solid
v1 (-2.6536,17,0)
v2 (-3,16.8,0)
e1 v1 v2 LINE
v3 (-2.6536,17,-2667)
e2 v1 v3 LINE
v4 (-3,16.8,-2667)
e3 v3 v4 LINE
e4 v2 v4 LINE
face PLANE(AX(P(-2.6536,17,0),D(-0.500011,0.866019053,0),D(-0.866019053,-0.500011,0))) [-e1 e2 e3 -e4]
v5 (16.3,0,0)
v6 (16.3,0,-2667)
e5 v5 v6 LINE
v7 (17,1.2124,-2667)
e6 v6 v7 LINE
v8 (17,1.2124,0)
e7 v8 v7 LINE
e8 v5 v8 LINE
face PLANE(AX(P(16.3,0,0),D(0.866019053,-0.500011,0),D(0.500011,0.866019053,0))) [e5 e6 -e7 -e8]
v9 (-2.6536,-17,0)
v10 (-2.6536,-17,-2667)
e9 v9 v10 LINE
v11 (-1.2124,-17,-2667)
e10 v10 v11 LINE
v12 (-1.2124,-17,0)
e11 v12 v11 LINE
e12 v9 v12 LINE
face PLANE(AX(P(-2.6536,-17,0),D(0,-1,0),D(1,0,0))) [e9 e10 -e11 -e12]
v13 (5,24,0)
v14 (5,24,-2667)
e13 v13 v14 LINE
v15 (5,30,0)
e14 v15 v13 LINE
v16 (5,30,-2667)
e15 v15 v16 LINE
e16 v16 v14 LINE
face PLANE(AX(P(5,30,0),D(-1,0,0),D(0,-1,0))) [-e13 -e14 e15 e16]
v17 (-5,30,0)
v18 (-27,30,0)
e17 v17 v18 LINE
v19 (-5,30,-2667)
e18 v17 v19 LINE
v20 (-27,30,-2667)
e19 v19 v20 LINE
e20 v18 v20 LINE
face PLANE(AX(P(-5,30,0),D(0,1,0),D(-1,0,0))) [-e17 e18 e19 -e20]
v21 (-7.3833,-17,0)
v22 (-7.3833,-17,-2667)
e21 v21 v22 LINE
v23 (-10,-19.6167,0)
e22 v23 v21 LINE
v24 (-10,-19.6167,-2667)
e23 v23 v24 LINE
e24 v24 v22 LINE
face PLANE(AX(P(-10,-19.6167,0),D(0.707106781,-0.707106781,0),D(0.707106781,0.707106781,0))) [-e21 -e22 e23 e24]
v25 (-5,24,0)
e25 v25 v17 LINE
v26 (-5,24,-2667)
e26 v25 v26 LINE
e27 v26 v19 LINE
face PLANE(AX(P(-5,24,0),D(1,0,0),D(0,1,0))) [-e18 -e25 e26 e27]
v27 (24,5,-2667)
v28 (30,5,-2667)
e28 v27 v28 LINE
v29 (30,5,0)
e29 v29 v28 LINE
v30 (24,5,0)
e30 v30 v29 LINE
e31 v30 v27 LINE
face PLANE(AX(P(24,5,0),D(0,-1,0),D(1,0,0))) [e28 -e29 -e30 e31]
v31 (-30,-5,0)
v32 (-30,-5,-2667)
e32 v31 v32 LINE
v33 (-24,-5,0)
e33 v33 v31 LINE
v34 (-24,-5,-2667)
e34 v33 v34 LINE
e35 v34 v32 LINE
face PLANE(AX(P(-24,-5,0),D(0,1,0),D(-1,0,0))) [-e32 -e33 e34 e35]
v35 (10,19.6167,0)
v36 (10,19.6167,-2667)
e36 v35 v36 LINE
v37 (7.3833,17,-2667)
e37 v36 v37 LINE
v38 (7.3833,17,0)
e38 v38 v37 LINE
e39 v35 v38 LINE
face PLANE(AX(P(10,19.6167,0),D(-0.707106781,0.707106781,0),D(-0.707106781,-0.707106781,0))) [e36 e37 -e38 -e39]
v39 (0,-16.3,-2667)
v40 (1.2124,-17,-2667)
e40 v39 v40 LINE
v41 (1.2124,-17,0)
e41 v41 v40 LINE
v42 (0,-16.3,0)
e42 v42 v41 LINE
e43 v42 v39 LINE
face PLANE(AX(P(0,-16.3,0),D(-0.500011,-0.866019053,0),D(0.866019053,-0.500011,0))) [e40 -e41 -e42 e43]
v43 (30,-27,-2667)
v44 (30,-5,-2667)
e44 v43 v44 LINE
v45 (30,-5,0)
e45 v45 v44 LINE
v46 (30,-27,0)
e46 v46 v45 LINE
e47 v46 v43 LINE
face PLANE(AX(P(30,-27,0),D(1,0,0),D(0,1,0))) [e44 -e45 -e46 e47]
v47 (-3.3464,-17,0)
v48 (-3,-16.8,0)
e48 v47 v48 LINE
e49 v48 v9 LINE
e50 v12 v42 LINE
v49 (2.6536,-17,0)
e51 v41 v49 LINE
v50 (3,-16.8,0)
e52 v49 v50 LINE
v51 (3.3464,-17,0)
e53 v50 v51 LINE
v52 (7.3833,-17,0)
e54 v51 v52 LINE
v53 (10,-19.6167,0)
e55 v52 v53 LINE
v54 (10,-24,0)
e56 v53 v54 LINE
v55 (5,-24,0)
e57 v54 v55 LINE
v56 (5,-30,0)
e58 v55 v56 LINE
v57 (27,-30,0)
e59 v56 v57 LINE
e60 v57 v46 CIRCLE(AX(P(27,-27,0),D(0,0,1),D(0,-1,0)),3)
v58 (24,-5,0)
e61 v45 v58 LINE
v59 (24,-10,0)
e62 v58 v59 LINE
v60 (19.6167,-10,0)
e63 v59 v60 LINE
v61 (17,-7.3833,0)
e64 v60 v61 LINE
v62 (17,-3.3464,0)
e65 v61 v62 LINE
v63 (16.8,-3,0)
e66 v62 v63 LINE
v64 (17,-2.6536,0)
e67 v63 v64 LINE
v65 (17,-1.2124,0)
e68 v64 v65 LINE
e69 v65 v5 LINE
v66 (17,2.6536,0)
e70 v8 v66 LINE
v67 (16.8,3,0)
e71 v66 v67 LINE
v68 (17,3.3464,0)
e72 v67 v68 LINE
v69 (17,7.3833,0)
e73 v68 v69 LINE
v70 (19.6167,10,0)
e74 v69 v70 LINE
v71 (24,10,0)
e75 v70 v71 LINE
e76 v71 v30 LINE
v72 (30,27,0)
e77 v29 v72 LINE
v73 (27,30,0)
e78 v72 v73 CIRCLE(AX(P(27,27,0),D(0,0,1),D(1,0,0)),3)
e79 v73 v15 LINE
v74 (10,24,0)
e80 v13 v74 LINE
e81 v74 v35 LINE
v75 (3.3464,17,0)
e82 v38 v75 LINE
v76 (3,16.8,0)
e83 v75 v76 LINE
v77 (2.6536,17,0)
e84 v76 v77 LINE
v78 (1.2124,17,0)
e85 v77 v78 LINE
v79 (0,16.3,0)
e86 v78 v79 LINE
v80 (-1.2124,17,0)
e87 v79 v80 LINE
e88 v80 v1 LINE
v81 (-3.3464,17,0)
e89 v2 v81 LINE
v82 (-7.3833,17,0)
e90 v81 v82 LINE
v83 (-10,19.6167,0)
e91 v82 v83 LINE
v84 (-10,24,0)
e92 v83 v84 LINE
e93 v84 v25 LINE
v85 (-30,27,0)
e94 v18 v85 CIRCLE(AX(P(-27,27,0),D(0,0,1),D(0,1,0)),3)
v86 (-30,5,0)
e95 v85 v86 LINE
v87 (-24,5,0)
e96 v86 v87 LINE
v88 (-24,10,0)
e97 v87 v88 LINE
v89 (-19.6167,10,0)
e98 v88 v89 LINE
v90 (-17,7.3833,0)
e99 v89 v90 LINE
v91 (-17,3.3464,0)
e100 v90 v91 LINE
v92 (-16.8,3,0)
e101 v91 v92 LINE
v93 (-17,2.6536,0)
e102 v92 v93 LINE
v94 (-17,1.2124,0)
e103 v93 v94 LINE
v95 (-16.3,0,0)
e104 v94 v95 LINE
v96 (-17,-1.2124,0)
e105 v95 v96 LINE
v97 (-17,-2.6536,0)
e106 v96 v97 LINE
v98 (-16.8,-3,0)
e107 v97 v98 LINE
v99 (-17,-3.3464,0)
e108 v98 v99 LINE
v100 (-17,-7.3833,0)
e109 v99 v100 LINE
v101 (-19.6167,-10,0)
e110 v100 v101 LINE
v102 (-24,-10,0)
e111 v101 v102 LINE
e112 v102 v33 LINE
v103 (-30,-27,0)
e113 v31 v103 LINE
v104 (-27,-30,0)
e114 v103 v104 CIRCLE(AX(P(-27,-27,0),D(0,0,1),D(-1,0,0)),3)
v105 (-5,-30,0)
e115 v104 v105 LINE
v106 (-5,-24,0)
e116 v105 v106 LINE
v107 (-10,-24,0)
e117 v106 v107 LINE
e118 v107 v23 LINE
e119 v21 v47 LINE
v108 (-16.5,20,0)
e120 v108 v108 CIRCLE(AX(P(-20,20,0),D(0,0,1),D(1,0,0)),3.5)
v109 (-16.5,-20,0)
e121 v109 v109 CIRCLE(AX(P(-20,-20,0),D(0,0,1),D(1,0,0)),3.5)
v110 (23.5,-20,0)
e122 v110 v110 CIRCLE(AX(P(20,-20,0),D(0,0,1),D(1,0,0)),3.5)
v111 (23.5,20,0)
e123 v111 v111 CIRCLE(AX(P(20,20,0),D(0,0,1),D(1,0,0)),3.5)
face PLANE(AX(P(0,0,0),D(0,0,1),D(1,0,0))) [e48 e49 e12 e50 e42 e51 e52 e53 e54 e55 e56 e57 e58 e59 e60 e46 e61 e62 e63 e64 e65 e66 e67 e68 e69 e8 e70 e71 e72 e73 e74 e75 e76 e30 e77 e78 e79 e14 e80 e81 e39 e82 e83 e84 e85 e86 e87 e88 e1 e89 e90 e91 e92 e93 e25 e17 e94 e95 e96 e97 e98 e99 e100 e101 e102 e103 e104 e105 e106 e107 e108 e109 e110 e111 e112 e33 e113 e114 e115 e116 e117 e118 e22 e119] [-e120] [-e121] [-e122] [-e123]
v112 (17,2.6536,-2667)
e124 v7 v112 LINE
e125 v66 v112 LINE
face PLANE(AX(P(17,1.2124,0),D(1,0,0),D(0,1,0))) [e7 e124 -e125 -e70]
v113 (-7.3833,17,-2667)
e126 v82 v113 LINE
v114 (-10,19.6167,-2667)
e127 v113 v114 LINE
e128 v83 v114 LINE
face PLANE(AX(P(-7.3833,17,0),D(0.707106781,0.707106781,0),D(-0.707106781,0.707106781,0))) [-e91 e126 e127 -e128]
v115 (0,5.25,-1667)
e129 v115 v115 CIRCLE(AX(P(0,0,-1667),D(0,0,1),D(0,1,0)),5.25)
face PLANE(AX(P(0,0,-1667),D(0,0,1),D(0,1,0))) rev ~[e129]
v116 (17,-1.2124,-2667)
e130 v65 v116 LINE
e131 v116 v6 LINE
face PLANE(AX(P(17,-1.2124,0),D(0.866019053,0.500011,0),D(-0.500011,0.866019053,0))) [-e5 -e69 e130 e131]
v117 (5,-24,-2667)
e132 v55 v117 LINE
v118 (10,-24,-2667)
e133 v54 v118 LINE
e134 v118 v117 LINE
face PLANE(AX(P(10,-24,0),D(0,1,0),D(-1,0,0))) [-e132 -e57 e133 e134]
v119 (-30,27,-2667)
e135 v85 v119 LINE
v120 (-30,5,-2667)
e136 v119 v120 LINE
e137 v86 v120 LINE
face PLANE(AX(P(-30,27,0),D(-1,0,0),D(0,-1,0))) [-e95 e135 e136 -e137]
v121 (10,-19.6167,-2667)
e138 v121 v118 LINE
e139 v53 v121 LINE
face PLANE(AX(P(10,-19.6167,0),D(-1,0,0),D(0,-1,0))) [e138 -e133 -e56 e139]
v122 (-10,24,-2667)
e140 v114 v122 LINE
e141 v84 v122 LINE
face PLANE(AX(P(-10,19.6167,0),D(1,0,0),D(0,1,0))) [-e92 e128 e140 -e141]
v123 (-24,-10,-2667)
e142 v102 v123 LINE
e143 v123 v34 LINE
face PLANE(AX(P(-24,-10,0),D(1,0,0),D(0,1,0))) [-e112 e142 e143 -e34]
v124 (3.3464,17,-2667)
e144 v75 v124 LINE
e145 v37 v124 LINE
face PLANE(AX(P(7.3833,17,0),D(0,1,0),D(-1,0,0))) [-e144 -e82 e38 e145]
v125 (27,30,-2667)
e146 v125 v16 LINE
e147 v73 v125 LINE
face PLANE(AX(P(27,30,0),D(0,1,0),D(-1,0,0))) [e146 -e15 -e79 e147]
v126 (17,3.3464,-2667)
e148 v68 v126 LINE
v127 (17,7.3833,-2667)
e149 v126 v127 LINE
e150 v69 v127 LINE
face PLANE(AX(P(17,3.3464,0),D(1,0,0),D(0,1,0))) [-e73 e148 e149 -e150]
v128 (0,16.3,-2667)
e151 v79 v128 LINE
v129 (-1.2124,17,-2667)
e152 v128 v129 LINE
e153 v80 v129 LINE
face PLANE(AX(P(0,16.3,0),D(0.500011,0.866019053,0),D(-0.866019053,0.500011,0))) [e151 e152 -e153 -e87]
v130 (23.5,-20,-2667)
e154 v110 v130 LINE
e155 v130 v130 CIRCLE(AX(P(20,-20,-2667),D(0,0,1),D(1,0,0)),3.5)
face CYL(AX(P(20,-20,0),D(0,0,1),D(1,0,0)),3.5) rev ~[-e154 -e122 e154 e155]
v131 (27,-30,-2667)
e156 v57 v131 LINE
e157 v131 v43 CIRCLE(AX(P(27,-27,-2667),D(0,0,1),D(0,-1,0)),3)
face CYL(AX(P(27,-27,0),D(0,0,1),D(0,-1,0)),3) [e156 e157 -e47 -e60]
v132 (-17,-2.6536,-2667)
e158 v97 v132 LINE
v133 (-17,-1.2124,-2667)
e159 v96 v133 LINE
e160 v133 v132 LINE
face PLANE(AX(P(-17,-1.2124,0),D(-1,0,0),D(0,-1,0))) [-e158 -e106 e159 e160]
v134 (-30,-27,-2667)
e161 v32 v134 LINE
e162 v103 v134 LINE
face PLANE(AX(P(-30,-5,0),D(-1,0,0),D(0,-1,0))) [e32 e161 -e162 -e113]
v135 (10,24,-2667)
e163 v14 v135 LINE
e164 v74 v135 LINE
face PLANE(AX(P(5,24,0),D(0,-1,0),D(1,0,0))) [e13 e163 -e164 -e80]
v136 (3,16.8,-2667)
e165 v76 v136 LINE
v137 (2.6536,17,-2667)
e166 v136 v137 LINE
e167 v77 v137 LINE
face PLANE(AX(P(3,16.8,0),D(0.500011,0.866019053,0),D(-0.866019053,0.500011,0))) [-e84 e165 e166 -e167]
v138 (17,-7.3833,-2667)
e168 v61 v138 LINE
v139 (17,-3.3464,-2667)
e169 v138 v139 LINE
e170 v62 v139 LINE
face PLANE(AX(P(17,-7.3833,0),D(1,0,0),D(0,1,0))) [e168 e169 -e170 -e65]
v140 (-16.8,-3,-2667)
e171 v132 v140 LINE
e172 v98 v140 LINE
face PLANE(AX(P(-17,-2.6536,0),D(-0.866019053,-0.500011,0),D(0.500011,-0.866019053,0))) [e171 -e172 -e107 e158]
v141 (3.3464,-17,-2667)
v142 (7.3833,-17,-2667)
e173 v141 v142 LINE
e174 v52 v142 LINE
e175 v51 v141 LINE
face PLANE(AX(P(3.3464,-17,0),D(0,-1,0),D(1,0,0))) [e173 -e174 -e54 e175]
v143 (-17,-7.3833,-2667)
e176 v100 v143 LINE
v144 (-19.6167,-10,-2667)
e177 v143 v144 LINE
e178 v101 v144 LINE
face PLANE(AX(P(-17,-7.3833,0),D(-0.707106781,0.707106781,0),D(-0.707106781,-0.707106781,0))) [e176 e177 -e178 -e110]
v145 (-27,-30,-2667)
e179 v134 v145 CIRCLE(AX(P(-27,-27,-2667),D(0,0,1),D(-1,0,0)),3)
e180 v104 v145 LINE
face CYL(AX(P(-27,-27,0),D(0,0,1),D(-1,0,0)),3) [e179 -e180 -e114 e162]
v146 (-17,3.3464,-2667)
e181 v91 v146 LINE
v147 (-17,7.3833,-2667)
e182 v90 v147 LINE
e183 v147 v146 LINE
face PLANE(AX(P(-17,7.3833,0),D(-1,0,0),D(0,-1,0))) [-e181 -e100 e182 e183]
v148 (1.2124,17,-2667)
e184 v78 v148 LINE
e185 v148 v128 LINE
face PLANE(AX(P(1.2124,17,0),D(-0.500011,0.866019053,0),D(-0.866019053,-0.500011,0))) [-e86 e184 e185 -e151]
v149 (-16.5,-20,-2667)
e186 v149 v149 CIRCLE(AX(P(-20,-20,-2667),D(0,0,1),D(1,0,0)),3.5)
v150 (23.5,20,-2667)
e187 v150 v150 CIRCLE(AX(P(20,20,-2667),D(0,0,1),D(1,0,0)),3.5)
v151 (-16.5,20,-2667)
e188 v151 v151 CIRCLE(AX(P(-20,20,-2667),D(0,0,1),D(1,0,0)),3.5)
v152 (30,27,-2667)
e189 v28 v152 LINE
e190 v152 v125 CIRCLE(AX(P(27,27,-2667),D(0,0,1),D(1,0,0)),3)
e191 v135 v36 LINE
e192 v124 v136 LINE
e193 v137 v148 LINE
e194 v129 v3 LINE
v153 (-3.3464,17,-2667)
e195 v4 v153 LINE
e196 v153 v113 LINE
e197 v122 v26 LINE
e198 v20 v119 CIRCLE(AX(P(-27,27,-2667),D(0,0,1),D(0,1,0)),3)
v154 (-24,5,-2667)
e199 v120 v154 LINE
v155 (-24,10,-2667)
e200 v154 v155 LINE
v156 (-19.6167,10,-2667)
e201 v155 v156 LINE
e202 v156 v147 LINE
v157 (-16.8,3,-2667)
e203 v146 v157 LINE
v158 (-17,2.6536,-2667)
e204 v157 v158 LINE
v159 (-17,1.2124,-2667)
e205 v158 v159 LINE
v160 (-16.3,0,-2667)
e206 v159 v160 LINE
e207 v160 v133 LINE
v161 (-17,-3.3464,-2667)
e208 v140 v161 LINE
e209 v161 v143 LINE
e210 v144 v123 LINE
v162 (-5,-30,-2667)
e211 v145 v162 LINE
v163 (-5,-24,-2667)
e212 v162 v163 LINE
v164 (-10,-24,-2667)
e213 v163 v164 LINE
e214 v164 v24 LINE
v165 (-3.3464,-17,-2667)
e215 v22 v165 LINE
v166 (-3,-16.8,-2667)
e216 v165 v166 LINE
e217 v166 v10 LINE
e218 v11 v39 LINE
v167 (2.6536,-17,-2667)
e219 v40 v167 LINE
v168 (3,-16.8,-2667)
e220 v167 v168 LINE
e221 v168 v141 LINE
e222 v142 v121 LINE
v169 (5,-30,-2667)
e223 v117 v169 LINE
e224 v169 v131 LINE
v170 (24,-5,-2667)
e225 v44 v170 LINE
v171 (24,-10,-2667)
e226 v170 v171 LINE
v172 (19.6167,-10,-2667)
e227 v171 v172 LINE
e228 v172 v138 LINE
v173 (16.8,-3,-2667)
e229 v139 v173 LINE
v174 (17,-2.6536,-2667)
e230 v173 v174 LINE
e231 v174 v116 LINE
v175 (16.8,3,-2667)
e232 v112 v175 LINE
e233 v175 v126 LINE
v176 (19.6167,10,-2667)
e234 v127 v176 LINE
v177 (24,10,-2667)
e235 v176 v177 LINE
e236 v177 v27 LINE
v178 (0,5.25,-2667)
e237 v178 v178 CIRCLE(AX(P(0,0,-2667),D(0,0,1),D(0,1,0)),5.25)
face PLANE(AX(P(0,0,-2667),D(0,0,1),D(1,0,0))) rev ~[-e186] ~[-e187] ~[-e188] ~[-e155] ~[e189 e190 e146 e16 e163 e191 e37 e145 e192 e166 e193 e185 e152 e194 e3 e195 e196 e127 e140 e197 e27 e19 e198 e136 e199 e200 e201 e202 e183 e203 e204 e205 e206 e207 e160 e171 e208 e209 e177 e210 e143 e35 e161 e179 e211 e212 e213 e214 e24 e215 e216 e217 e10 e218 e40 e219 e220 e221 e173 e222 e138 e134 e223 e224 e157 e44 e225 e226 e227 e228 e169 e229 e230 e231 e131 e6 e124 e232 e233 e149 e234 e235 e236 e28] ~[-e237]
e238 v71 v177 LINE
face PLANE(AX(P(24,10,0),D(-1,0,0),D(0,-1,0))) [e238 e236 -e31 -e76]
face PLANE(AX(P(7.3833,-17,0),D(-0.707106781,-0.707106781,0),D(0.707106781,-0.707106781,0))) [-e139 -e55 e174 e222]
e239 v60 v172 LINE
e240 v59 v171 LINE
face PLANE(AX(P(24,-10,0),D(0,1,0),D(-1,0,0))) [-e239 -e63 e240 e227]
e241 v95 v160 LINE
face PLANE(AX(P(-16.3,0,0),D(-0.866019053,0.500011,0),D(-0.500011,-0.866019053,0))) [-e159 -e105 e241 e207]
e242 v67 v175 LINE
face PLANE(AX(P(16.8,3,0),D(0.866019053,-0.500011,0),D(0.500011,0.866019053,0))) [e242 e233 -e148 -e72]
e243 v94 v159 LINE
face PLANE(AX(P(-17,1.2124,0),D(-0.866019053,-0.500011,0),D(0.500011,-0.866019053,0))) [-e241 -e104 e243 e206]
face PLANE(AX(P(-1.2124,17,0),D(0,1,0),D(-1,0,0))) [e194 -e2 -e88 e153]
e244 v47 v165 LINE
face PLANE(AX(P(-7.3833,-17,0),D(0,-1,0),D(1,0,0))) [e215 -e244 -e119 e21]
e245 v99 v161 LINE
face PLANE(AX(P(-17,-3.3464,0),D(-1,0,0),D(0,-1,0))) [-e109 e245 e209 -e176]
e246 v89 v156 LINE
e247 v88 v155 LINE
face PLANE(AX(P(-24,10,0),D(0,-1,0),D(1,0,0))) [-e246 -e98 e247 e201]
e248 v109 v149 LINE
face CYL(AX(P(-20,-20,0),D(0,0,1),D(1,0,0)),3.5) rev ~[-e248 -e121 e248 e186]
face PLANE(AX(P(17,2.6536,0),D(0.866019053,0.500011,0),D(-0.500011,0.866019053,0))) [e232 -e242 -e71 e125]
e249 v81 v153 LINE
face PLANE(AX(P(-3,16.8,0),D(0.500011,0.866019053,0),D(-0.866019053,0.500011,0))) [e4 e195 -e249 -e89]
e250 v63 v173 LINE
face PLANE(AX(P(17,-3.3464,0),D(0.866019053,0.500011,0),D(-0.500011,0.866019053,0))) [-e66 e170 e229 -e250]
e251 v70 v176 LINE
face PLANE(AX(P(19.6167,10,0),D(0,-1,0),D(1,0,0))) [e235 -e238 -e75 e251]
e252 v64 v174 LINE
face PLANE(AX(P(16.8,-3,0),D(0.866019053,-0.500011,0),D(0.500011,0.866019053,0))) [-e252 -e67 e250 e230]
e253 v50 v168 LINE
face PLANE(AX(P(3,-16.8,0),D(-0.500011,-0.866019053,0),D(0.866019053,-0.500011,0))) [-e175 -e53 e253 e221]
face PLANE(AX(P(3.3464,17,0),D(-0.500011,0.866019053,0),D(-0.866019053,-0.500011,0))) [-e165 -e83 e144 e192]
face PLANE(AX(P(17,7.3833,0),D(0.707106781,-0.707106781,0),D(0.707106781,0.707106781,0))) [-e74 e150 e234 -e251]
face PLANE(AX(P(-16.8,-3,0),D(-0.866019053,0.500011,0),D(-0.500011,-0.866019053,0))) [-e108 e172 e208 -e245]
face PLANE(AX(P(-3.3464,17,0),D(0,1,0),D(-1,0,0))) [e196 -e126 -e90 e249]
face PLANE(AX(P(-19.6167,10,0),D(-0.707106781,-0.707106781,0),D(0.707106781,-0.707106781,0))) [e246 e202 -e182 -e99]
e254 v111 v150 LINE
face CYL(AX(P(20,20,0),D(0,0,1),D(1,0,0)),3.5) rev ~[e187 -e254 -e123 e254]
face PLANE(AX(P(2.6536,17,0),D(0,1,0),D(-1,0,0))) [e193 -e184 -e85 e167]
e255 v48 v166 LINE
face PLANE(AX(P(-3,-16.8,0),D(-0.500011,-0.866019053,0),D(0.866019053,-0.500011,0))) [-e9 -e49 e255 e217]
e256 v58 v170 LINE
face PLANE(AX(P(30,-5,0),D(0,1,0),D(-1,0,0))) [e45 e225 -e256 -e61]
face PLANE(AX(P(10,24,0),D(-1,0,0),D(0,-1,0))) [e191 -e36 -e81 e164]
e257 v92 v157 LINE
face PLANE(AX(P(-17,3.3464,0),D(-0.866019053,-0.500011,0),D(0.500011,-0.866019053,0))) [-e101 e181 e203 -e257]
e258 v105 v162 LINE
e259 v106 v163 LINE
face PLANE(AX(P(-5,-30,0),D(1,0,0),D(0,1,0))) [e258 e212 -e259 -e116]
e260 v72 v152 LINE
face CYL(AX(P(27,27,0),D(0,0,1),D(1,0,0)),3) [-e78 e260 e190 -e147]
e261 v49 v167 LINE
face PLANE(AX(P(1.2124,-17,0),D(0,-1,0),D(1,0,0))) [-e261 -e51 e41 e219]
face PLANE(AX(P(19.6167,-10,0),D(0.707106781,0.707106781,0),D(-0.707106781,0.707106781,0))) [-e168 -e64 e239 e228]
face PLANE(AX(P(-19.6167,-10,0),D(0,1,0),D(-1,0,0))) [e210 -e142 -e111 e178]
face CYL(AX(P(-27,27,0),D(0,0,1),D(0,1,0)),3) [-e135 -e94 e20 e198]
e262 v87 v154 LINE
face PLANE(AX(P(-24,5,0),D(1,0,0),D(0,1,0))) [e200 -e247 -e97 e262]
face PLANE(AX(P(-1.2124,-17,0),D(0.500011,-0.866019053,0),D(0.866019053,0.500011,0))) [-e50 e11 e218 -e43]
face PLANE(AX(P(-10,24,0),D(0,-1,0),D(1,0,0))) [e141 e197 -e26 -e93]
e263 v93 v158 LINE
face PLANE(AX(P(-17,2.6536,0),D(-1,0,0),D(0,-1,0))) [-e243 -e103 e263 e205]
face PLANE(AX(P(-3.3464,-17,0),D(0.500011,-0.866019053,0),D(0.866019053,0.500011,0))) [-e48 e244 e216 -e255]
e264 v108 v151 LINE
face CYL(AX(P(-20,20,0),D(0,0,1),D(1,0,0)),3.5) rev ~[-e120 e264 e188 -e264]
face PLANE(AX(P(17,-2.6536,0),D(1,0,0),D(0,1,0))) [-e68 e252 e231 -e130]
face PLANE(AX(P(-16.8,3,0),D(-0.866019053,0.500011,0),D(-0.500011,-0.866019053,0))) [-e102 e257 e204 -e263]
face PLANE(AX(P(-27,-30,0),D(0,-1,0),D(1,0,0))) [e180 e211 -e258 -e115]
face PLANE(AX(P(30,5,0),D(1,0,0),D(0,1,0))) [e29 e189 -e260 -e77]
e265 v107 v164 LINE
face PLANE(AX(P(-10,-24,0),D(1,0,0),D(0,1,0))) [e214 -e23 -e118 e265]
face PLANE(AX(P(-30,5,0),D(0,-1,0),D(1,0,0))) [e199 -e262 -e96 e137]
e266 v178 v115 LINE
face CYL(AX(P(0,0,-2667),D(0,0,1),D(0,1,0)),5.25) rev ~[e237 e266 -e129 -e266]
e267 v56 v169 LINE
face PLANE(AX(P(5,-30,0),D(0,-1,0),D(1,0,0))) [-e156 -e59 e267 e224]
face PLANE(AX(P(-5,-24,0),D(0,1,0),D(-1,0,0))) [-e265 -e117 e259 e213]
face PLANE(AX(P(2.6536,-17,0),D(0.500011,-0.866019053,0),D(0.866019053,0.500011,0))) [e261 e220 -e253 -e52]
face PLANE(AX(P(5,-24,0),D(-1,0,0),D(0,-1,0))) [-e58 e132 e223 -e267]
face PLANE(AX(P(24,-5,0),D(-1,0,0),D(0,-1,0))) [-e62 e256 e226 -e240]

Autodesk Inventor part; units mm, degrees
sketch "Sketch_60" plane through (0, 0, 0) normal (0, 0, 1) x (1, 0, 0)
  arc A0 (-30, -27) -> (-27, -30) centre (-27, -27) ccw
  line L0 (-27, -30) -> (-5, -30)
  line L1 (-5, -30) -> (-5, -24)
  line L2 (-5, -24) -> (-10, -24)
  line L3 (-10, -24) -> (-10, -19.6167)
  line L4 (-10, -19.6167) -> (-7.3833, -17)
  line L5 (-7.3833, -17) -> (-3.3464, -17)
  line L6 (-3.3464, -17) -> (-3, -16.8)
  line L7 (-3, -16.8) -> (-2.6536, -17)
  line L8 (-2.6536, -17) -> (-1.2124, -17)
  line L9 (-1.2124, -17) -> (0, -16.3)
  line L10 (0, -16.3) -> (1.2124, -17)
  line L11 (1.2124, -17) -> (2.6536, -17)
  line L12 (2.6536, -17) -> (3, -16.8)
  line L13 (3, -16.8) -> (3.3464, -17)
  line L14 (3.3464, -17) -> (7.3833, -17)
  line L15 (7.3833, -17) -> (10, -19.6167)
  line L16 (10, -19.6167) -> (10, -24)
  line L17 (10, -24) -> (5, -24)
  line L18 (5, -24) -> (5, -30)
  line L19 (5, -30) -> (27, -30)
  arc A1 (27, -30) -> (30, -27) centre (27, -27) ccw
  line L20 (30, -27) -> (30, -5)
  line L21 (30, -5) -> (24, -5)
  line L22 (24, -5) -> (24, -10)
  line L23 (24, -10) -> (19.6167, -10)
  line L24 (19.6167, -10) -> (17, -7.3833)
  line L25 (17, -7.3833) -> (17, -3.3464)
  line L26 (17, -3.3464) -> (16.8, -3)
  line L27 (16.8, -3) -> (17, -2.6536)
  line L28 (17, -2.6536) -> (17, -1.2124)
  line L29 (17, -1.2124) -> (16.3, 0)
  line L30 (16.3, 0) -> (17, 1.2124)
  line L31 (17, 1.2124) -> (17, 2.6536)
  line L32 (17, 2.6536) -> (16.8, 3)
  line L33 (16.8, 3) -> (17, 3.3464)
  line L34 (17, 3.3464) -> (17, 7.3833)
  line L35 (17, 7.3833) -> (19.6167, 10)
  line L36 (19.6167, 10) -> (24, 10)
  line L37 (24, 10) -> (24, 5)
  line L38 (24, 5) -> (30, 5)
  line L39 (30, 5) -> (30, 27)
  arc A2 (30, 27) -> (27, 30) centre (27, 27) ccw
  line L40 (27, 30) -> (5, 30)
  line L41 (5, 30) -> (5, 24)
  line L42 (5, 24) -> (10, 24)
  line L43 (10, 24) -> (10, 19.6167)
  line L44 (10, 19.6167) -> (7.3833, 17)
  line L45 (7.3833, 17) -> (3.3464, 17)
  line L46 (3.3464, 17) -> (3, 16.8)
  line L47 (3, 16.8) -> (2.6536, 17)
  line L48 (2.6536, 17) -> (1.2124, 17)
  line L49 (1.2124, 17) -> (0, 16.3)
  line L50 (0, 16.3) -> (-1.2124, 17)
  line L51 (-1.2124, 17) -> (-2.6536, 17)
  line L52 (-2.6536, 17) -> (-3, 16.8)
  line L53 (-3, 16.8) -> (-3.3464, 17)
  line L54 (-3.3464, 17) -> (-7.3833, 17)
  line L55 (-7.3833, 17) -> (-10, 19.6167)
  line L56 (-10, 19.6167) -> (-10, 24)
  line L57 (-10, 24) -> (-5, 24)
  line L58 (-5, 24) -> (-5, 30)
  line L59 (-5, 30) -> (-27, 30)
  arc A3 (-27, 30) -> (-30, 27) centre (-27, 27) ccw
  line L60 (-30, 27) -> (-30, 5)
  line L61 (-30, 5) -> (-24, 5)
  line L62 (-24, 5) -> (-24, 10)
  line L63 (-24, 10) -> (-19.6167, 10)
  line L64 (-19.6167, 10) -> (-17, 7.3833)
  line L65 (-17, 7.3833) -> (-17, 3.3464)
  line L66 (-17, 3.3464) -> (-16.8, 3)
  line L67 (-16.8, 3) -> (-17, 2.6536)
  line L68 (-17, 2.6536) -> (-17, 1.2124)
  line L69 (-17, 1.2124) -> (-16.3, 0)
  line L70 (-16.3, 0) -> (-17, -1.2124)
  line L71 (-17, -1.2124) -> (-17, -2.6536)
  line L72 (-17, -2.6536) -> (-16.8, -3)
  line L73 (-16.8, -3) -> (-17, -3.3464)
  line L74 (-17, -3.3464) -> (-17, -7.3833)
  line L75 (-17, -7.3833) -> (-19.6167, -10)
  line L76 (-19.6167, -10) -> (-24, -10)
  line L77 (-24, -10) -> (-24, -5)
  line L78 (-24, -5) -> (-30, -5)
  line L79 (-30, -5) -> (-30, -27)
  circle A4 centre (20, 20) radius 3.5
  circle A5 centre (20, -20) radius 3.5
  circle A6 centre (-20, 20) radius 3.5
  circle A7 centre (-20, -20) radius 3.5
extrude "Extrusion1" add sketch "Sketch_60" against normal blind 2667
sketch "Sketch2" plane through (0, 0, -2667) normal (0, 0, -1) x (-1, 0, 0)
  point P0 (0, 0)
hole "Hole1" at (0, 0, -2667) direction (0, 0, 1) diameter 10.5 depth 1000
ref_plane "C1_XY" through (0, 0, 0) normal (0, 0, 1) x (1, 0, 0)
ref_plane "C1_YZ" through (0, 0, 0) normal (1, 0, 0) x (0, 1, 0)
ref_plane "C1_ZX" through (0, 0, 0) normal (0, 1, 0) x (0, 0, 1)
ref_plane "to_frame_cap1_XY" through (0, 0, 0) normal (0, 0, 1) x (1, 0, 0)
ref_plane "to_frame_cap1_YZ" through (0, 0, 0) normal (1, 0, 0) x (0, 1, 0)
ref_plane "to_frame_cap1_ZX" through (0, 0, 0) normal (0, 1, 0) x (0, 0, 1)
ref_plane "to_frame_cap2_XY" through (0, 0, -1000) normal (0, 0, -1) x (1, 0, 0)
ref_plane "to_frame_cap2_YZ" through (0, 0, -1000) normal (1, 0, 0) x (0, -1, 0)
ref_plane "to_frame_cap2_ZX" through (0, 0, -1000) normal (0, -1, 0) x (0, 0, -1)
properties part number "GFS8-6060-1000"
